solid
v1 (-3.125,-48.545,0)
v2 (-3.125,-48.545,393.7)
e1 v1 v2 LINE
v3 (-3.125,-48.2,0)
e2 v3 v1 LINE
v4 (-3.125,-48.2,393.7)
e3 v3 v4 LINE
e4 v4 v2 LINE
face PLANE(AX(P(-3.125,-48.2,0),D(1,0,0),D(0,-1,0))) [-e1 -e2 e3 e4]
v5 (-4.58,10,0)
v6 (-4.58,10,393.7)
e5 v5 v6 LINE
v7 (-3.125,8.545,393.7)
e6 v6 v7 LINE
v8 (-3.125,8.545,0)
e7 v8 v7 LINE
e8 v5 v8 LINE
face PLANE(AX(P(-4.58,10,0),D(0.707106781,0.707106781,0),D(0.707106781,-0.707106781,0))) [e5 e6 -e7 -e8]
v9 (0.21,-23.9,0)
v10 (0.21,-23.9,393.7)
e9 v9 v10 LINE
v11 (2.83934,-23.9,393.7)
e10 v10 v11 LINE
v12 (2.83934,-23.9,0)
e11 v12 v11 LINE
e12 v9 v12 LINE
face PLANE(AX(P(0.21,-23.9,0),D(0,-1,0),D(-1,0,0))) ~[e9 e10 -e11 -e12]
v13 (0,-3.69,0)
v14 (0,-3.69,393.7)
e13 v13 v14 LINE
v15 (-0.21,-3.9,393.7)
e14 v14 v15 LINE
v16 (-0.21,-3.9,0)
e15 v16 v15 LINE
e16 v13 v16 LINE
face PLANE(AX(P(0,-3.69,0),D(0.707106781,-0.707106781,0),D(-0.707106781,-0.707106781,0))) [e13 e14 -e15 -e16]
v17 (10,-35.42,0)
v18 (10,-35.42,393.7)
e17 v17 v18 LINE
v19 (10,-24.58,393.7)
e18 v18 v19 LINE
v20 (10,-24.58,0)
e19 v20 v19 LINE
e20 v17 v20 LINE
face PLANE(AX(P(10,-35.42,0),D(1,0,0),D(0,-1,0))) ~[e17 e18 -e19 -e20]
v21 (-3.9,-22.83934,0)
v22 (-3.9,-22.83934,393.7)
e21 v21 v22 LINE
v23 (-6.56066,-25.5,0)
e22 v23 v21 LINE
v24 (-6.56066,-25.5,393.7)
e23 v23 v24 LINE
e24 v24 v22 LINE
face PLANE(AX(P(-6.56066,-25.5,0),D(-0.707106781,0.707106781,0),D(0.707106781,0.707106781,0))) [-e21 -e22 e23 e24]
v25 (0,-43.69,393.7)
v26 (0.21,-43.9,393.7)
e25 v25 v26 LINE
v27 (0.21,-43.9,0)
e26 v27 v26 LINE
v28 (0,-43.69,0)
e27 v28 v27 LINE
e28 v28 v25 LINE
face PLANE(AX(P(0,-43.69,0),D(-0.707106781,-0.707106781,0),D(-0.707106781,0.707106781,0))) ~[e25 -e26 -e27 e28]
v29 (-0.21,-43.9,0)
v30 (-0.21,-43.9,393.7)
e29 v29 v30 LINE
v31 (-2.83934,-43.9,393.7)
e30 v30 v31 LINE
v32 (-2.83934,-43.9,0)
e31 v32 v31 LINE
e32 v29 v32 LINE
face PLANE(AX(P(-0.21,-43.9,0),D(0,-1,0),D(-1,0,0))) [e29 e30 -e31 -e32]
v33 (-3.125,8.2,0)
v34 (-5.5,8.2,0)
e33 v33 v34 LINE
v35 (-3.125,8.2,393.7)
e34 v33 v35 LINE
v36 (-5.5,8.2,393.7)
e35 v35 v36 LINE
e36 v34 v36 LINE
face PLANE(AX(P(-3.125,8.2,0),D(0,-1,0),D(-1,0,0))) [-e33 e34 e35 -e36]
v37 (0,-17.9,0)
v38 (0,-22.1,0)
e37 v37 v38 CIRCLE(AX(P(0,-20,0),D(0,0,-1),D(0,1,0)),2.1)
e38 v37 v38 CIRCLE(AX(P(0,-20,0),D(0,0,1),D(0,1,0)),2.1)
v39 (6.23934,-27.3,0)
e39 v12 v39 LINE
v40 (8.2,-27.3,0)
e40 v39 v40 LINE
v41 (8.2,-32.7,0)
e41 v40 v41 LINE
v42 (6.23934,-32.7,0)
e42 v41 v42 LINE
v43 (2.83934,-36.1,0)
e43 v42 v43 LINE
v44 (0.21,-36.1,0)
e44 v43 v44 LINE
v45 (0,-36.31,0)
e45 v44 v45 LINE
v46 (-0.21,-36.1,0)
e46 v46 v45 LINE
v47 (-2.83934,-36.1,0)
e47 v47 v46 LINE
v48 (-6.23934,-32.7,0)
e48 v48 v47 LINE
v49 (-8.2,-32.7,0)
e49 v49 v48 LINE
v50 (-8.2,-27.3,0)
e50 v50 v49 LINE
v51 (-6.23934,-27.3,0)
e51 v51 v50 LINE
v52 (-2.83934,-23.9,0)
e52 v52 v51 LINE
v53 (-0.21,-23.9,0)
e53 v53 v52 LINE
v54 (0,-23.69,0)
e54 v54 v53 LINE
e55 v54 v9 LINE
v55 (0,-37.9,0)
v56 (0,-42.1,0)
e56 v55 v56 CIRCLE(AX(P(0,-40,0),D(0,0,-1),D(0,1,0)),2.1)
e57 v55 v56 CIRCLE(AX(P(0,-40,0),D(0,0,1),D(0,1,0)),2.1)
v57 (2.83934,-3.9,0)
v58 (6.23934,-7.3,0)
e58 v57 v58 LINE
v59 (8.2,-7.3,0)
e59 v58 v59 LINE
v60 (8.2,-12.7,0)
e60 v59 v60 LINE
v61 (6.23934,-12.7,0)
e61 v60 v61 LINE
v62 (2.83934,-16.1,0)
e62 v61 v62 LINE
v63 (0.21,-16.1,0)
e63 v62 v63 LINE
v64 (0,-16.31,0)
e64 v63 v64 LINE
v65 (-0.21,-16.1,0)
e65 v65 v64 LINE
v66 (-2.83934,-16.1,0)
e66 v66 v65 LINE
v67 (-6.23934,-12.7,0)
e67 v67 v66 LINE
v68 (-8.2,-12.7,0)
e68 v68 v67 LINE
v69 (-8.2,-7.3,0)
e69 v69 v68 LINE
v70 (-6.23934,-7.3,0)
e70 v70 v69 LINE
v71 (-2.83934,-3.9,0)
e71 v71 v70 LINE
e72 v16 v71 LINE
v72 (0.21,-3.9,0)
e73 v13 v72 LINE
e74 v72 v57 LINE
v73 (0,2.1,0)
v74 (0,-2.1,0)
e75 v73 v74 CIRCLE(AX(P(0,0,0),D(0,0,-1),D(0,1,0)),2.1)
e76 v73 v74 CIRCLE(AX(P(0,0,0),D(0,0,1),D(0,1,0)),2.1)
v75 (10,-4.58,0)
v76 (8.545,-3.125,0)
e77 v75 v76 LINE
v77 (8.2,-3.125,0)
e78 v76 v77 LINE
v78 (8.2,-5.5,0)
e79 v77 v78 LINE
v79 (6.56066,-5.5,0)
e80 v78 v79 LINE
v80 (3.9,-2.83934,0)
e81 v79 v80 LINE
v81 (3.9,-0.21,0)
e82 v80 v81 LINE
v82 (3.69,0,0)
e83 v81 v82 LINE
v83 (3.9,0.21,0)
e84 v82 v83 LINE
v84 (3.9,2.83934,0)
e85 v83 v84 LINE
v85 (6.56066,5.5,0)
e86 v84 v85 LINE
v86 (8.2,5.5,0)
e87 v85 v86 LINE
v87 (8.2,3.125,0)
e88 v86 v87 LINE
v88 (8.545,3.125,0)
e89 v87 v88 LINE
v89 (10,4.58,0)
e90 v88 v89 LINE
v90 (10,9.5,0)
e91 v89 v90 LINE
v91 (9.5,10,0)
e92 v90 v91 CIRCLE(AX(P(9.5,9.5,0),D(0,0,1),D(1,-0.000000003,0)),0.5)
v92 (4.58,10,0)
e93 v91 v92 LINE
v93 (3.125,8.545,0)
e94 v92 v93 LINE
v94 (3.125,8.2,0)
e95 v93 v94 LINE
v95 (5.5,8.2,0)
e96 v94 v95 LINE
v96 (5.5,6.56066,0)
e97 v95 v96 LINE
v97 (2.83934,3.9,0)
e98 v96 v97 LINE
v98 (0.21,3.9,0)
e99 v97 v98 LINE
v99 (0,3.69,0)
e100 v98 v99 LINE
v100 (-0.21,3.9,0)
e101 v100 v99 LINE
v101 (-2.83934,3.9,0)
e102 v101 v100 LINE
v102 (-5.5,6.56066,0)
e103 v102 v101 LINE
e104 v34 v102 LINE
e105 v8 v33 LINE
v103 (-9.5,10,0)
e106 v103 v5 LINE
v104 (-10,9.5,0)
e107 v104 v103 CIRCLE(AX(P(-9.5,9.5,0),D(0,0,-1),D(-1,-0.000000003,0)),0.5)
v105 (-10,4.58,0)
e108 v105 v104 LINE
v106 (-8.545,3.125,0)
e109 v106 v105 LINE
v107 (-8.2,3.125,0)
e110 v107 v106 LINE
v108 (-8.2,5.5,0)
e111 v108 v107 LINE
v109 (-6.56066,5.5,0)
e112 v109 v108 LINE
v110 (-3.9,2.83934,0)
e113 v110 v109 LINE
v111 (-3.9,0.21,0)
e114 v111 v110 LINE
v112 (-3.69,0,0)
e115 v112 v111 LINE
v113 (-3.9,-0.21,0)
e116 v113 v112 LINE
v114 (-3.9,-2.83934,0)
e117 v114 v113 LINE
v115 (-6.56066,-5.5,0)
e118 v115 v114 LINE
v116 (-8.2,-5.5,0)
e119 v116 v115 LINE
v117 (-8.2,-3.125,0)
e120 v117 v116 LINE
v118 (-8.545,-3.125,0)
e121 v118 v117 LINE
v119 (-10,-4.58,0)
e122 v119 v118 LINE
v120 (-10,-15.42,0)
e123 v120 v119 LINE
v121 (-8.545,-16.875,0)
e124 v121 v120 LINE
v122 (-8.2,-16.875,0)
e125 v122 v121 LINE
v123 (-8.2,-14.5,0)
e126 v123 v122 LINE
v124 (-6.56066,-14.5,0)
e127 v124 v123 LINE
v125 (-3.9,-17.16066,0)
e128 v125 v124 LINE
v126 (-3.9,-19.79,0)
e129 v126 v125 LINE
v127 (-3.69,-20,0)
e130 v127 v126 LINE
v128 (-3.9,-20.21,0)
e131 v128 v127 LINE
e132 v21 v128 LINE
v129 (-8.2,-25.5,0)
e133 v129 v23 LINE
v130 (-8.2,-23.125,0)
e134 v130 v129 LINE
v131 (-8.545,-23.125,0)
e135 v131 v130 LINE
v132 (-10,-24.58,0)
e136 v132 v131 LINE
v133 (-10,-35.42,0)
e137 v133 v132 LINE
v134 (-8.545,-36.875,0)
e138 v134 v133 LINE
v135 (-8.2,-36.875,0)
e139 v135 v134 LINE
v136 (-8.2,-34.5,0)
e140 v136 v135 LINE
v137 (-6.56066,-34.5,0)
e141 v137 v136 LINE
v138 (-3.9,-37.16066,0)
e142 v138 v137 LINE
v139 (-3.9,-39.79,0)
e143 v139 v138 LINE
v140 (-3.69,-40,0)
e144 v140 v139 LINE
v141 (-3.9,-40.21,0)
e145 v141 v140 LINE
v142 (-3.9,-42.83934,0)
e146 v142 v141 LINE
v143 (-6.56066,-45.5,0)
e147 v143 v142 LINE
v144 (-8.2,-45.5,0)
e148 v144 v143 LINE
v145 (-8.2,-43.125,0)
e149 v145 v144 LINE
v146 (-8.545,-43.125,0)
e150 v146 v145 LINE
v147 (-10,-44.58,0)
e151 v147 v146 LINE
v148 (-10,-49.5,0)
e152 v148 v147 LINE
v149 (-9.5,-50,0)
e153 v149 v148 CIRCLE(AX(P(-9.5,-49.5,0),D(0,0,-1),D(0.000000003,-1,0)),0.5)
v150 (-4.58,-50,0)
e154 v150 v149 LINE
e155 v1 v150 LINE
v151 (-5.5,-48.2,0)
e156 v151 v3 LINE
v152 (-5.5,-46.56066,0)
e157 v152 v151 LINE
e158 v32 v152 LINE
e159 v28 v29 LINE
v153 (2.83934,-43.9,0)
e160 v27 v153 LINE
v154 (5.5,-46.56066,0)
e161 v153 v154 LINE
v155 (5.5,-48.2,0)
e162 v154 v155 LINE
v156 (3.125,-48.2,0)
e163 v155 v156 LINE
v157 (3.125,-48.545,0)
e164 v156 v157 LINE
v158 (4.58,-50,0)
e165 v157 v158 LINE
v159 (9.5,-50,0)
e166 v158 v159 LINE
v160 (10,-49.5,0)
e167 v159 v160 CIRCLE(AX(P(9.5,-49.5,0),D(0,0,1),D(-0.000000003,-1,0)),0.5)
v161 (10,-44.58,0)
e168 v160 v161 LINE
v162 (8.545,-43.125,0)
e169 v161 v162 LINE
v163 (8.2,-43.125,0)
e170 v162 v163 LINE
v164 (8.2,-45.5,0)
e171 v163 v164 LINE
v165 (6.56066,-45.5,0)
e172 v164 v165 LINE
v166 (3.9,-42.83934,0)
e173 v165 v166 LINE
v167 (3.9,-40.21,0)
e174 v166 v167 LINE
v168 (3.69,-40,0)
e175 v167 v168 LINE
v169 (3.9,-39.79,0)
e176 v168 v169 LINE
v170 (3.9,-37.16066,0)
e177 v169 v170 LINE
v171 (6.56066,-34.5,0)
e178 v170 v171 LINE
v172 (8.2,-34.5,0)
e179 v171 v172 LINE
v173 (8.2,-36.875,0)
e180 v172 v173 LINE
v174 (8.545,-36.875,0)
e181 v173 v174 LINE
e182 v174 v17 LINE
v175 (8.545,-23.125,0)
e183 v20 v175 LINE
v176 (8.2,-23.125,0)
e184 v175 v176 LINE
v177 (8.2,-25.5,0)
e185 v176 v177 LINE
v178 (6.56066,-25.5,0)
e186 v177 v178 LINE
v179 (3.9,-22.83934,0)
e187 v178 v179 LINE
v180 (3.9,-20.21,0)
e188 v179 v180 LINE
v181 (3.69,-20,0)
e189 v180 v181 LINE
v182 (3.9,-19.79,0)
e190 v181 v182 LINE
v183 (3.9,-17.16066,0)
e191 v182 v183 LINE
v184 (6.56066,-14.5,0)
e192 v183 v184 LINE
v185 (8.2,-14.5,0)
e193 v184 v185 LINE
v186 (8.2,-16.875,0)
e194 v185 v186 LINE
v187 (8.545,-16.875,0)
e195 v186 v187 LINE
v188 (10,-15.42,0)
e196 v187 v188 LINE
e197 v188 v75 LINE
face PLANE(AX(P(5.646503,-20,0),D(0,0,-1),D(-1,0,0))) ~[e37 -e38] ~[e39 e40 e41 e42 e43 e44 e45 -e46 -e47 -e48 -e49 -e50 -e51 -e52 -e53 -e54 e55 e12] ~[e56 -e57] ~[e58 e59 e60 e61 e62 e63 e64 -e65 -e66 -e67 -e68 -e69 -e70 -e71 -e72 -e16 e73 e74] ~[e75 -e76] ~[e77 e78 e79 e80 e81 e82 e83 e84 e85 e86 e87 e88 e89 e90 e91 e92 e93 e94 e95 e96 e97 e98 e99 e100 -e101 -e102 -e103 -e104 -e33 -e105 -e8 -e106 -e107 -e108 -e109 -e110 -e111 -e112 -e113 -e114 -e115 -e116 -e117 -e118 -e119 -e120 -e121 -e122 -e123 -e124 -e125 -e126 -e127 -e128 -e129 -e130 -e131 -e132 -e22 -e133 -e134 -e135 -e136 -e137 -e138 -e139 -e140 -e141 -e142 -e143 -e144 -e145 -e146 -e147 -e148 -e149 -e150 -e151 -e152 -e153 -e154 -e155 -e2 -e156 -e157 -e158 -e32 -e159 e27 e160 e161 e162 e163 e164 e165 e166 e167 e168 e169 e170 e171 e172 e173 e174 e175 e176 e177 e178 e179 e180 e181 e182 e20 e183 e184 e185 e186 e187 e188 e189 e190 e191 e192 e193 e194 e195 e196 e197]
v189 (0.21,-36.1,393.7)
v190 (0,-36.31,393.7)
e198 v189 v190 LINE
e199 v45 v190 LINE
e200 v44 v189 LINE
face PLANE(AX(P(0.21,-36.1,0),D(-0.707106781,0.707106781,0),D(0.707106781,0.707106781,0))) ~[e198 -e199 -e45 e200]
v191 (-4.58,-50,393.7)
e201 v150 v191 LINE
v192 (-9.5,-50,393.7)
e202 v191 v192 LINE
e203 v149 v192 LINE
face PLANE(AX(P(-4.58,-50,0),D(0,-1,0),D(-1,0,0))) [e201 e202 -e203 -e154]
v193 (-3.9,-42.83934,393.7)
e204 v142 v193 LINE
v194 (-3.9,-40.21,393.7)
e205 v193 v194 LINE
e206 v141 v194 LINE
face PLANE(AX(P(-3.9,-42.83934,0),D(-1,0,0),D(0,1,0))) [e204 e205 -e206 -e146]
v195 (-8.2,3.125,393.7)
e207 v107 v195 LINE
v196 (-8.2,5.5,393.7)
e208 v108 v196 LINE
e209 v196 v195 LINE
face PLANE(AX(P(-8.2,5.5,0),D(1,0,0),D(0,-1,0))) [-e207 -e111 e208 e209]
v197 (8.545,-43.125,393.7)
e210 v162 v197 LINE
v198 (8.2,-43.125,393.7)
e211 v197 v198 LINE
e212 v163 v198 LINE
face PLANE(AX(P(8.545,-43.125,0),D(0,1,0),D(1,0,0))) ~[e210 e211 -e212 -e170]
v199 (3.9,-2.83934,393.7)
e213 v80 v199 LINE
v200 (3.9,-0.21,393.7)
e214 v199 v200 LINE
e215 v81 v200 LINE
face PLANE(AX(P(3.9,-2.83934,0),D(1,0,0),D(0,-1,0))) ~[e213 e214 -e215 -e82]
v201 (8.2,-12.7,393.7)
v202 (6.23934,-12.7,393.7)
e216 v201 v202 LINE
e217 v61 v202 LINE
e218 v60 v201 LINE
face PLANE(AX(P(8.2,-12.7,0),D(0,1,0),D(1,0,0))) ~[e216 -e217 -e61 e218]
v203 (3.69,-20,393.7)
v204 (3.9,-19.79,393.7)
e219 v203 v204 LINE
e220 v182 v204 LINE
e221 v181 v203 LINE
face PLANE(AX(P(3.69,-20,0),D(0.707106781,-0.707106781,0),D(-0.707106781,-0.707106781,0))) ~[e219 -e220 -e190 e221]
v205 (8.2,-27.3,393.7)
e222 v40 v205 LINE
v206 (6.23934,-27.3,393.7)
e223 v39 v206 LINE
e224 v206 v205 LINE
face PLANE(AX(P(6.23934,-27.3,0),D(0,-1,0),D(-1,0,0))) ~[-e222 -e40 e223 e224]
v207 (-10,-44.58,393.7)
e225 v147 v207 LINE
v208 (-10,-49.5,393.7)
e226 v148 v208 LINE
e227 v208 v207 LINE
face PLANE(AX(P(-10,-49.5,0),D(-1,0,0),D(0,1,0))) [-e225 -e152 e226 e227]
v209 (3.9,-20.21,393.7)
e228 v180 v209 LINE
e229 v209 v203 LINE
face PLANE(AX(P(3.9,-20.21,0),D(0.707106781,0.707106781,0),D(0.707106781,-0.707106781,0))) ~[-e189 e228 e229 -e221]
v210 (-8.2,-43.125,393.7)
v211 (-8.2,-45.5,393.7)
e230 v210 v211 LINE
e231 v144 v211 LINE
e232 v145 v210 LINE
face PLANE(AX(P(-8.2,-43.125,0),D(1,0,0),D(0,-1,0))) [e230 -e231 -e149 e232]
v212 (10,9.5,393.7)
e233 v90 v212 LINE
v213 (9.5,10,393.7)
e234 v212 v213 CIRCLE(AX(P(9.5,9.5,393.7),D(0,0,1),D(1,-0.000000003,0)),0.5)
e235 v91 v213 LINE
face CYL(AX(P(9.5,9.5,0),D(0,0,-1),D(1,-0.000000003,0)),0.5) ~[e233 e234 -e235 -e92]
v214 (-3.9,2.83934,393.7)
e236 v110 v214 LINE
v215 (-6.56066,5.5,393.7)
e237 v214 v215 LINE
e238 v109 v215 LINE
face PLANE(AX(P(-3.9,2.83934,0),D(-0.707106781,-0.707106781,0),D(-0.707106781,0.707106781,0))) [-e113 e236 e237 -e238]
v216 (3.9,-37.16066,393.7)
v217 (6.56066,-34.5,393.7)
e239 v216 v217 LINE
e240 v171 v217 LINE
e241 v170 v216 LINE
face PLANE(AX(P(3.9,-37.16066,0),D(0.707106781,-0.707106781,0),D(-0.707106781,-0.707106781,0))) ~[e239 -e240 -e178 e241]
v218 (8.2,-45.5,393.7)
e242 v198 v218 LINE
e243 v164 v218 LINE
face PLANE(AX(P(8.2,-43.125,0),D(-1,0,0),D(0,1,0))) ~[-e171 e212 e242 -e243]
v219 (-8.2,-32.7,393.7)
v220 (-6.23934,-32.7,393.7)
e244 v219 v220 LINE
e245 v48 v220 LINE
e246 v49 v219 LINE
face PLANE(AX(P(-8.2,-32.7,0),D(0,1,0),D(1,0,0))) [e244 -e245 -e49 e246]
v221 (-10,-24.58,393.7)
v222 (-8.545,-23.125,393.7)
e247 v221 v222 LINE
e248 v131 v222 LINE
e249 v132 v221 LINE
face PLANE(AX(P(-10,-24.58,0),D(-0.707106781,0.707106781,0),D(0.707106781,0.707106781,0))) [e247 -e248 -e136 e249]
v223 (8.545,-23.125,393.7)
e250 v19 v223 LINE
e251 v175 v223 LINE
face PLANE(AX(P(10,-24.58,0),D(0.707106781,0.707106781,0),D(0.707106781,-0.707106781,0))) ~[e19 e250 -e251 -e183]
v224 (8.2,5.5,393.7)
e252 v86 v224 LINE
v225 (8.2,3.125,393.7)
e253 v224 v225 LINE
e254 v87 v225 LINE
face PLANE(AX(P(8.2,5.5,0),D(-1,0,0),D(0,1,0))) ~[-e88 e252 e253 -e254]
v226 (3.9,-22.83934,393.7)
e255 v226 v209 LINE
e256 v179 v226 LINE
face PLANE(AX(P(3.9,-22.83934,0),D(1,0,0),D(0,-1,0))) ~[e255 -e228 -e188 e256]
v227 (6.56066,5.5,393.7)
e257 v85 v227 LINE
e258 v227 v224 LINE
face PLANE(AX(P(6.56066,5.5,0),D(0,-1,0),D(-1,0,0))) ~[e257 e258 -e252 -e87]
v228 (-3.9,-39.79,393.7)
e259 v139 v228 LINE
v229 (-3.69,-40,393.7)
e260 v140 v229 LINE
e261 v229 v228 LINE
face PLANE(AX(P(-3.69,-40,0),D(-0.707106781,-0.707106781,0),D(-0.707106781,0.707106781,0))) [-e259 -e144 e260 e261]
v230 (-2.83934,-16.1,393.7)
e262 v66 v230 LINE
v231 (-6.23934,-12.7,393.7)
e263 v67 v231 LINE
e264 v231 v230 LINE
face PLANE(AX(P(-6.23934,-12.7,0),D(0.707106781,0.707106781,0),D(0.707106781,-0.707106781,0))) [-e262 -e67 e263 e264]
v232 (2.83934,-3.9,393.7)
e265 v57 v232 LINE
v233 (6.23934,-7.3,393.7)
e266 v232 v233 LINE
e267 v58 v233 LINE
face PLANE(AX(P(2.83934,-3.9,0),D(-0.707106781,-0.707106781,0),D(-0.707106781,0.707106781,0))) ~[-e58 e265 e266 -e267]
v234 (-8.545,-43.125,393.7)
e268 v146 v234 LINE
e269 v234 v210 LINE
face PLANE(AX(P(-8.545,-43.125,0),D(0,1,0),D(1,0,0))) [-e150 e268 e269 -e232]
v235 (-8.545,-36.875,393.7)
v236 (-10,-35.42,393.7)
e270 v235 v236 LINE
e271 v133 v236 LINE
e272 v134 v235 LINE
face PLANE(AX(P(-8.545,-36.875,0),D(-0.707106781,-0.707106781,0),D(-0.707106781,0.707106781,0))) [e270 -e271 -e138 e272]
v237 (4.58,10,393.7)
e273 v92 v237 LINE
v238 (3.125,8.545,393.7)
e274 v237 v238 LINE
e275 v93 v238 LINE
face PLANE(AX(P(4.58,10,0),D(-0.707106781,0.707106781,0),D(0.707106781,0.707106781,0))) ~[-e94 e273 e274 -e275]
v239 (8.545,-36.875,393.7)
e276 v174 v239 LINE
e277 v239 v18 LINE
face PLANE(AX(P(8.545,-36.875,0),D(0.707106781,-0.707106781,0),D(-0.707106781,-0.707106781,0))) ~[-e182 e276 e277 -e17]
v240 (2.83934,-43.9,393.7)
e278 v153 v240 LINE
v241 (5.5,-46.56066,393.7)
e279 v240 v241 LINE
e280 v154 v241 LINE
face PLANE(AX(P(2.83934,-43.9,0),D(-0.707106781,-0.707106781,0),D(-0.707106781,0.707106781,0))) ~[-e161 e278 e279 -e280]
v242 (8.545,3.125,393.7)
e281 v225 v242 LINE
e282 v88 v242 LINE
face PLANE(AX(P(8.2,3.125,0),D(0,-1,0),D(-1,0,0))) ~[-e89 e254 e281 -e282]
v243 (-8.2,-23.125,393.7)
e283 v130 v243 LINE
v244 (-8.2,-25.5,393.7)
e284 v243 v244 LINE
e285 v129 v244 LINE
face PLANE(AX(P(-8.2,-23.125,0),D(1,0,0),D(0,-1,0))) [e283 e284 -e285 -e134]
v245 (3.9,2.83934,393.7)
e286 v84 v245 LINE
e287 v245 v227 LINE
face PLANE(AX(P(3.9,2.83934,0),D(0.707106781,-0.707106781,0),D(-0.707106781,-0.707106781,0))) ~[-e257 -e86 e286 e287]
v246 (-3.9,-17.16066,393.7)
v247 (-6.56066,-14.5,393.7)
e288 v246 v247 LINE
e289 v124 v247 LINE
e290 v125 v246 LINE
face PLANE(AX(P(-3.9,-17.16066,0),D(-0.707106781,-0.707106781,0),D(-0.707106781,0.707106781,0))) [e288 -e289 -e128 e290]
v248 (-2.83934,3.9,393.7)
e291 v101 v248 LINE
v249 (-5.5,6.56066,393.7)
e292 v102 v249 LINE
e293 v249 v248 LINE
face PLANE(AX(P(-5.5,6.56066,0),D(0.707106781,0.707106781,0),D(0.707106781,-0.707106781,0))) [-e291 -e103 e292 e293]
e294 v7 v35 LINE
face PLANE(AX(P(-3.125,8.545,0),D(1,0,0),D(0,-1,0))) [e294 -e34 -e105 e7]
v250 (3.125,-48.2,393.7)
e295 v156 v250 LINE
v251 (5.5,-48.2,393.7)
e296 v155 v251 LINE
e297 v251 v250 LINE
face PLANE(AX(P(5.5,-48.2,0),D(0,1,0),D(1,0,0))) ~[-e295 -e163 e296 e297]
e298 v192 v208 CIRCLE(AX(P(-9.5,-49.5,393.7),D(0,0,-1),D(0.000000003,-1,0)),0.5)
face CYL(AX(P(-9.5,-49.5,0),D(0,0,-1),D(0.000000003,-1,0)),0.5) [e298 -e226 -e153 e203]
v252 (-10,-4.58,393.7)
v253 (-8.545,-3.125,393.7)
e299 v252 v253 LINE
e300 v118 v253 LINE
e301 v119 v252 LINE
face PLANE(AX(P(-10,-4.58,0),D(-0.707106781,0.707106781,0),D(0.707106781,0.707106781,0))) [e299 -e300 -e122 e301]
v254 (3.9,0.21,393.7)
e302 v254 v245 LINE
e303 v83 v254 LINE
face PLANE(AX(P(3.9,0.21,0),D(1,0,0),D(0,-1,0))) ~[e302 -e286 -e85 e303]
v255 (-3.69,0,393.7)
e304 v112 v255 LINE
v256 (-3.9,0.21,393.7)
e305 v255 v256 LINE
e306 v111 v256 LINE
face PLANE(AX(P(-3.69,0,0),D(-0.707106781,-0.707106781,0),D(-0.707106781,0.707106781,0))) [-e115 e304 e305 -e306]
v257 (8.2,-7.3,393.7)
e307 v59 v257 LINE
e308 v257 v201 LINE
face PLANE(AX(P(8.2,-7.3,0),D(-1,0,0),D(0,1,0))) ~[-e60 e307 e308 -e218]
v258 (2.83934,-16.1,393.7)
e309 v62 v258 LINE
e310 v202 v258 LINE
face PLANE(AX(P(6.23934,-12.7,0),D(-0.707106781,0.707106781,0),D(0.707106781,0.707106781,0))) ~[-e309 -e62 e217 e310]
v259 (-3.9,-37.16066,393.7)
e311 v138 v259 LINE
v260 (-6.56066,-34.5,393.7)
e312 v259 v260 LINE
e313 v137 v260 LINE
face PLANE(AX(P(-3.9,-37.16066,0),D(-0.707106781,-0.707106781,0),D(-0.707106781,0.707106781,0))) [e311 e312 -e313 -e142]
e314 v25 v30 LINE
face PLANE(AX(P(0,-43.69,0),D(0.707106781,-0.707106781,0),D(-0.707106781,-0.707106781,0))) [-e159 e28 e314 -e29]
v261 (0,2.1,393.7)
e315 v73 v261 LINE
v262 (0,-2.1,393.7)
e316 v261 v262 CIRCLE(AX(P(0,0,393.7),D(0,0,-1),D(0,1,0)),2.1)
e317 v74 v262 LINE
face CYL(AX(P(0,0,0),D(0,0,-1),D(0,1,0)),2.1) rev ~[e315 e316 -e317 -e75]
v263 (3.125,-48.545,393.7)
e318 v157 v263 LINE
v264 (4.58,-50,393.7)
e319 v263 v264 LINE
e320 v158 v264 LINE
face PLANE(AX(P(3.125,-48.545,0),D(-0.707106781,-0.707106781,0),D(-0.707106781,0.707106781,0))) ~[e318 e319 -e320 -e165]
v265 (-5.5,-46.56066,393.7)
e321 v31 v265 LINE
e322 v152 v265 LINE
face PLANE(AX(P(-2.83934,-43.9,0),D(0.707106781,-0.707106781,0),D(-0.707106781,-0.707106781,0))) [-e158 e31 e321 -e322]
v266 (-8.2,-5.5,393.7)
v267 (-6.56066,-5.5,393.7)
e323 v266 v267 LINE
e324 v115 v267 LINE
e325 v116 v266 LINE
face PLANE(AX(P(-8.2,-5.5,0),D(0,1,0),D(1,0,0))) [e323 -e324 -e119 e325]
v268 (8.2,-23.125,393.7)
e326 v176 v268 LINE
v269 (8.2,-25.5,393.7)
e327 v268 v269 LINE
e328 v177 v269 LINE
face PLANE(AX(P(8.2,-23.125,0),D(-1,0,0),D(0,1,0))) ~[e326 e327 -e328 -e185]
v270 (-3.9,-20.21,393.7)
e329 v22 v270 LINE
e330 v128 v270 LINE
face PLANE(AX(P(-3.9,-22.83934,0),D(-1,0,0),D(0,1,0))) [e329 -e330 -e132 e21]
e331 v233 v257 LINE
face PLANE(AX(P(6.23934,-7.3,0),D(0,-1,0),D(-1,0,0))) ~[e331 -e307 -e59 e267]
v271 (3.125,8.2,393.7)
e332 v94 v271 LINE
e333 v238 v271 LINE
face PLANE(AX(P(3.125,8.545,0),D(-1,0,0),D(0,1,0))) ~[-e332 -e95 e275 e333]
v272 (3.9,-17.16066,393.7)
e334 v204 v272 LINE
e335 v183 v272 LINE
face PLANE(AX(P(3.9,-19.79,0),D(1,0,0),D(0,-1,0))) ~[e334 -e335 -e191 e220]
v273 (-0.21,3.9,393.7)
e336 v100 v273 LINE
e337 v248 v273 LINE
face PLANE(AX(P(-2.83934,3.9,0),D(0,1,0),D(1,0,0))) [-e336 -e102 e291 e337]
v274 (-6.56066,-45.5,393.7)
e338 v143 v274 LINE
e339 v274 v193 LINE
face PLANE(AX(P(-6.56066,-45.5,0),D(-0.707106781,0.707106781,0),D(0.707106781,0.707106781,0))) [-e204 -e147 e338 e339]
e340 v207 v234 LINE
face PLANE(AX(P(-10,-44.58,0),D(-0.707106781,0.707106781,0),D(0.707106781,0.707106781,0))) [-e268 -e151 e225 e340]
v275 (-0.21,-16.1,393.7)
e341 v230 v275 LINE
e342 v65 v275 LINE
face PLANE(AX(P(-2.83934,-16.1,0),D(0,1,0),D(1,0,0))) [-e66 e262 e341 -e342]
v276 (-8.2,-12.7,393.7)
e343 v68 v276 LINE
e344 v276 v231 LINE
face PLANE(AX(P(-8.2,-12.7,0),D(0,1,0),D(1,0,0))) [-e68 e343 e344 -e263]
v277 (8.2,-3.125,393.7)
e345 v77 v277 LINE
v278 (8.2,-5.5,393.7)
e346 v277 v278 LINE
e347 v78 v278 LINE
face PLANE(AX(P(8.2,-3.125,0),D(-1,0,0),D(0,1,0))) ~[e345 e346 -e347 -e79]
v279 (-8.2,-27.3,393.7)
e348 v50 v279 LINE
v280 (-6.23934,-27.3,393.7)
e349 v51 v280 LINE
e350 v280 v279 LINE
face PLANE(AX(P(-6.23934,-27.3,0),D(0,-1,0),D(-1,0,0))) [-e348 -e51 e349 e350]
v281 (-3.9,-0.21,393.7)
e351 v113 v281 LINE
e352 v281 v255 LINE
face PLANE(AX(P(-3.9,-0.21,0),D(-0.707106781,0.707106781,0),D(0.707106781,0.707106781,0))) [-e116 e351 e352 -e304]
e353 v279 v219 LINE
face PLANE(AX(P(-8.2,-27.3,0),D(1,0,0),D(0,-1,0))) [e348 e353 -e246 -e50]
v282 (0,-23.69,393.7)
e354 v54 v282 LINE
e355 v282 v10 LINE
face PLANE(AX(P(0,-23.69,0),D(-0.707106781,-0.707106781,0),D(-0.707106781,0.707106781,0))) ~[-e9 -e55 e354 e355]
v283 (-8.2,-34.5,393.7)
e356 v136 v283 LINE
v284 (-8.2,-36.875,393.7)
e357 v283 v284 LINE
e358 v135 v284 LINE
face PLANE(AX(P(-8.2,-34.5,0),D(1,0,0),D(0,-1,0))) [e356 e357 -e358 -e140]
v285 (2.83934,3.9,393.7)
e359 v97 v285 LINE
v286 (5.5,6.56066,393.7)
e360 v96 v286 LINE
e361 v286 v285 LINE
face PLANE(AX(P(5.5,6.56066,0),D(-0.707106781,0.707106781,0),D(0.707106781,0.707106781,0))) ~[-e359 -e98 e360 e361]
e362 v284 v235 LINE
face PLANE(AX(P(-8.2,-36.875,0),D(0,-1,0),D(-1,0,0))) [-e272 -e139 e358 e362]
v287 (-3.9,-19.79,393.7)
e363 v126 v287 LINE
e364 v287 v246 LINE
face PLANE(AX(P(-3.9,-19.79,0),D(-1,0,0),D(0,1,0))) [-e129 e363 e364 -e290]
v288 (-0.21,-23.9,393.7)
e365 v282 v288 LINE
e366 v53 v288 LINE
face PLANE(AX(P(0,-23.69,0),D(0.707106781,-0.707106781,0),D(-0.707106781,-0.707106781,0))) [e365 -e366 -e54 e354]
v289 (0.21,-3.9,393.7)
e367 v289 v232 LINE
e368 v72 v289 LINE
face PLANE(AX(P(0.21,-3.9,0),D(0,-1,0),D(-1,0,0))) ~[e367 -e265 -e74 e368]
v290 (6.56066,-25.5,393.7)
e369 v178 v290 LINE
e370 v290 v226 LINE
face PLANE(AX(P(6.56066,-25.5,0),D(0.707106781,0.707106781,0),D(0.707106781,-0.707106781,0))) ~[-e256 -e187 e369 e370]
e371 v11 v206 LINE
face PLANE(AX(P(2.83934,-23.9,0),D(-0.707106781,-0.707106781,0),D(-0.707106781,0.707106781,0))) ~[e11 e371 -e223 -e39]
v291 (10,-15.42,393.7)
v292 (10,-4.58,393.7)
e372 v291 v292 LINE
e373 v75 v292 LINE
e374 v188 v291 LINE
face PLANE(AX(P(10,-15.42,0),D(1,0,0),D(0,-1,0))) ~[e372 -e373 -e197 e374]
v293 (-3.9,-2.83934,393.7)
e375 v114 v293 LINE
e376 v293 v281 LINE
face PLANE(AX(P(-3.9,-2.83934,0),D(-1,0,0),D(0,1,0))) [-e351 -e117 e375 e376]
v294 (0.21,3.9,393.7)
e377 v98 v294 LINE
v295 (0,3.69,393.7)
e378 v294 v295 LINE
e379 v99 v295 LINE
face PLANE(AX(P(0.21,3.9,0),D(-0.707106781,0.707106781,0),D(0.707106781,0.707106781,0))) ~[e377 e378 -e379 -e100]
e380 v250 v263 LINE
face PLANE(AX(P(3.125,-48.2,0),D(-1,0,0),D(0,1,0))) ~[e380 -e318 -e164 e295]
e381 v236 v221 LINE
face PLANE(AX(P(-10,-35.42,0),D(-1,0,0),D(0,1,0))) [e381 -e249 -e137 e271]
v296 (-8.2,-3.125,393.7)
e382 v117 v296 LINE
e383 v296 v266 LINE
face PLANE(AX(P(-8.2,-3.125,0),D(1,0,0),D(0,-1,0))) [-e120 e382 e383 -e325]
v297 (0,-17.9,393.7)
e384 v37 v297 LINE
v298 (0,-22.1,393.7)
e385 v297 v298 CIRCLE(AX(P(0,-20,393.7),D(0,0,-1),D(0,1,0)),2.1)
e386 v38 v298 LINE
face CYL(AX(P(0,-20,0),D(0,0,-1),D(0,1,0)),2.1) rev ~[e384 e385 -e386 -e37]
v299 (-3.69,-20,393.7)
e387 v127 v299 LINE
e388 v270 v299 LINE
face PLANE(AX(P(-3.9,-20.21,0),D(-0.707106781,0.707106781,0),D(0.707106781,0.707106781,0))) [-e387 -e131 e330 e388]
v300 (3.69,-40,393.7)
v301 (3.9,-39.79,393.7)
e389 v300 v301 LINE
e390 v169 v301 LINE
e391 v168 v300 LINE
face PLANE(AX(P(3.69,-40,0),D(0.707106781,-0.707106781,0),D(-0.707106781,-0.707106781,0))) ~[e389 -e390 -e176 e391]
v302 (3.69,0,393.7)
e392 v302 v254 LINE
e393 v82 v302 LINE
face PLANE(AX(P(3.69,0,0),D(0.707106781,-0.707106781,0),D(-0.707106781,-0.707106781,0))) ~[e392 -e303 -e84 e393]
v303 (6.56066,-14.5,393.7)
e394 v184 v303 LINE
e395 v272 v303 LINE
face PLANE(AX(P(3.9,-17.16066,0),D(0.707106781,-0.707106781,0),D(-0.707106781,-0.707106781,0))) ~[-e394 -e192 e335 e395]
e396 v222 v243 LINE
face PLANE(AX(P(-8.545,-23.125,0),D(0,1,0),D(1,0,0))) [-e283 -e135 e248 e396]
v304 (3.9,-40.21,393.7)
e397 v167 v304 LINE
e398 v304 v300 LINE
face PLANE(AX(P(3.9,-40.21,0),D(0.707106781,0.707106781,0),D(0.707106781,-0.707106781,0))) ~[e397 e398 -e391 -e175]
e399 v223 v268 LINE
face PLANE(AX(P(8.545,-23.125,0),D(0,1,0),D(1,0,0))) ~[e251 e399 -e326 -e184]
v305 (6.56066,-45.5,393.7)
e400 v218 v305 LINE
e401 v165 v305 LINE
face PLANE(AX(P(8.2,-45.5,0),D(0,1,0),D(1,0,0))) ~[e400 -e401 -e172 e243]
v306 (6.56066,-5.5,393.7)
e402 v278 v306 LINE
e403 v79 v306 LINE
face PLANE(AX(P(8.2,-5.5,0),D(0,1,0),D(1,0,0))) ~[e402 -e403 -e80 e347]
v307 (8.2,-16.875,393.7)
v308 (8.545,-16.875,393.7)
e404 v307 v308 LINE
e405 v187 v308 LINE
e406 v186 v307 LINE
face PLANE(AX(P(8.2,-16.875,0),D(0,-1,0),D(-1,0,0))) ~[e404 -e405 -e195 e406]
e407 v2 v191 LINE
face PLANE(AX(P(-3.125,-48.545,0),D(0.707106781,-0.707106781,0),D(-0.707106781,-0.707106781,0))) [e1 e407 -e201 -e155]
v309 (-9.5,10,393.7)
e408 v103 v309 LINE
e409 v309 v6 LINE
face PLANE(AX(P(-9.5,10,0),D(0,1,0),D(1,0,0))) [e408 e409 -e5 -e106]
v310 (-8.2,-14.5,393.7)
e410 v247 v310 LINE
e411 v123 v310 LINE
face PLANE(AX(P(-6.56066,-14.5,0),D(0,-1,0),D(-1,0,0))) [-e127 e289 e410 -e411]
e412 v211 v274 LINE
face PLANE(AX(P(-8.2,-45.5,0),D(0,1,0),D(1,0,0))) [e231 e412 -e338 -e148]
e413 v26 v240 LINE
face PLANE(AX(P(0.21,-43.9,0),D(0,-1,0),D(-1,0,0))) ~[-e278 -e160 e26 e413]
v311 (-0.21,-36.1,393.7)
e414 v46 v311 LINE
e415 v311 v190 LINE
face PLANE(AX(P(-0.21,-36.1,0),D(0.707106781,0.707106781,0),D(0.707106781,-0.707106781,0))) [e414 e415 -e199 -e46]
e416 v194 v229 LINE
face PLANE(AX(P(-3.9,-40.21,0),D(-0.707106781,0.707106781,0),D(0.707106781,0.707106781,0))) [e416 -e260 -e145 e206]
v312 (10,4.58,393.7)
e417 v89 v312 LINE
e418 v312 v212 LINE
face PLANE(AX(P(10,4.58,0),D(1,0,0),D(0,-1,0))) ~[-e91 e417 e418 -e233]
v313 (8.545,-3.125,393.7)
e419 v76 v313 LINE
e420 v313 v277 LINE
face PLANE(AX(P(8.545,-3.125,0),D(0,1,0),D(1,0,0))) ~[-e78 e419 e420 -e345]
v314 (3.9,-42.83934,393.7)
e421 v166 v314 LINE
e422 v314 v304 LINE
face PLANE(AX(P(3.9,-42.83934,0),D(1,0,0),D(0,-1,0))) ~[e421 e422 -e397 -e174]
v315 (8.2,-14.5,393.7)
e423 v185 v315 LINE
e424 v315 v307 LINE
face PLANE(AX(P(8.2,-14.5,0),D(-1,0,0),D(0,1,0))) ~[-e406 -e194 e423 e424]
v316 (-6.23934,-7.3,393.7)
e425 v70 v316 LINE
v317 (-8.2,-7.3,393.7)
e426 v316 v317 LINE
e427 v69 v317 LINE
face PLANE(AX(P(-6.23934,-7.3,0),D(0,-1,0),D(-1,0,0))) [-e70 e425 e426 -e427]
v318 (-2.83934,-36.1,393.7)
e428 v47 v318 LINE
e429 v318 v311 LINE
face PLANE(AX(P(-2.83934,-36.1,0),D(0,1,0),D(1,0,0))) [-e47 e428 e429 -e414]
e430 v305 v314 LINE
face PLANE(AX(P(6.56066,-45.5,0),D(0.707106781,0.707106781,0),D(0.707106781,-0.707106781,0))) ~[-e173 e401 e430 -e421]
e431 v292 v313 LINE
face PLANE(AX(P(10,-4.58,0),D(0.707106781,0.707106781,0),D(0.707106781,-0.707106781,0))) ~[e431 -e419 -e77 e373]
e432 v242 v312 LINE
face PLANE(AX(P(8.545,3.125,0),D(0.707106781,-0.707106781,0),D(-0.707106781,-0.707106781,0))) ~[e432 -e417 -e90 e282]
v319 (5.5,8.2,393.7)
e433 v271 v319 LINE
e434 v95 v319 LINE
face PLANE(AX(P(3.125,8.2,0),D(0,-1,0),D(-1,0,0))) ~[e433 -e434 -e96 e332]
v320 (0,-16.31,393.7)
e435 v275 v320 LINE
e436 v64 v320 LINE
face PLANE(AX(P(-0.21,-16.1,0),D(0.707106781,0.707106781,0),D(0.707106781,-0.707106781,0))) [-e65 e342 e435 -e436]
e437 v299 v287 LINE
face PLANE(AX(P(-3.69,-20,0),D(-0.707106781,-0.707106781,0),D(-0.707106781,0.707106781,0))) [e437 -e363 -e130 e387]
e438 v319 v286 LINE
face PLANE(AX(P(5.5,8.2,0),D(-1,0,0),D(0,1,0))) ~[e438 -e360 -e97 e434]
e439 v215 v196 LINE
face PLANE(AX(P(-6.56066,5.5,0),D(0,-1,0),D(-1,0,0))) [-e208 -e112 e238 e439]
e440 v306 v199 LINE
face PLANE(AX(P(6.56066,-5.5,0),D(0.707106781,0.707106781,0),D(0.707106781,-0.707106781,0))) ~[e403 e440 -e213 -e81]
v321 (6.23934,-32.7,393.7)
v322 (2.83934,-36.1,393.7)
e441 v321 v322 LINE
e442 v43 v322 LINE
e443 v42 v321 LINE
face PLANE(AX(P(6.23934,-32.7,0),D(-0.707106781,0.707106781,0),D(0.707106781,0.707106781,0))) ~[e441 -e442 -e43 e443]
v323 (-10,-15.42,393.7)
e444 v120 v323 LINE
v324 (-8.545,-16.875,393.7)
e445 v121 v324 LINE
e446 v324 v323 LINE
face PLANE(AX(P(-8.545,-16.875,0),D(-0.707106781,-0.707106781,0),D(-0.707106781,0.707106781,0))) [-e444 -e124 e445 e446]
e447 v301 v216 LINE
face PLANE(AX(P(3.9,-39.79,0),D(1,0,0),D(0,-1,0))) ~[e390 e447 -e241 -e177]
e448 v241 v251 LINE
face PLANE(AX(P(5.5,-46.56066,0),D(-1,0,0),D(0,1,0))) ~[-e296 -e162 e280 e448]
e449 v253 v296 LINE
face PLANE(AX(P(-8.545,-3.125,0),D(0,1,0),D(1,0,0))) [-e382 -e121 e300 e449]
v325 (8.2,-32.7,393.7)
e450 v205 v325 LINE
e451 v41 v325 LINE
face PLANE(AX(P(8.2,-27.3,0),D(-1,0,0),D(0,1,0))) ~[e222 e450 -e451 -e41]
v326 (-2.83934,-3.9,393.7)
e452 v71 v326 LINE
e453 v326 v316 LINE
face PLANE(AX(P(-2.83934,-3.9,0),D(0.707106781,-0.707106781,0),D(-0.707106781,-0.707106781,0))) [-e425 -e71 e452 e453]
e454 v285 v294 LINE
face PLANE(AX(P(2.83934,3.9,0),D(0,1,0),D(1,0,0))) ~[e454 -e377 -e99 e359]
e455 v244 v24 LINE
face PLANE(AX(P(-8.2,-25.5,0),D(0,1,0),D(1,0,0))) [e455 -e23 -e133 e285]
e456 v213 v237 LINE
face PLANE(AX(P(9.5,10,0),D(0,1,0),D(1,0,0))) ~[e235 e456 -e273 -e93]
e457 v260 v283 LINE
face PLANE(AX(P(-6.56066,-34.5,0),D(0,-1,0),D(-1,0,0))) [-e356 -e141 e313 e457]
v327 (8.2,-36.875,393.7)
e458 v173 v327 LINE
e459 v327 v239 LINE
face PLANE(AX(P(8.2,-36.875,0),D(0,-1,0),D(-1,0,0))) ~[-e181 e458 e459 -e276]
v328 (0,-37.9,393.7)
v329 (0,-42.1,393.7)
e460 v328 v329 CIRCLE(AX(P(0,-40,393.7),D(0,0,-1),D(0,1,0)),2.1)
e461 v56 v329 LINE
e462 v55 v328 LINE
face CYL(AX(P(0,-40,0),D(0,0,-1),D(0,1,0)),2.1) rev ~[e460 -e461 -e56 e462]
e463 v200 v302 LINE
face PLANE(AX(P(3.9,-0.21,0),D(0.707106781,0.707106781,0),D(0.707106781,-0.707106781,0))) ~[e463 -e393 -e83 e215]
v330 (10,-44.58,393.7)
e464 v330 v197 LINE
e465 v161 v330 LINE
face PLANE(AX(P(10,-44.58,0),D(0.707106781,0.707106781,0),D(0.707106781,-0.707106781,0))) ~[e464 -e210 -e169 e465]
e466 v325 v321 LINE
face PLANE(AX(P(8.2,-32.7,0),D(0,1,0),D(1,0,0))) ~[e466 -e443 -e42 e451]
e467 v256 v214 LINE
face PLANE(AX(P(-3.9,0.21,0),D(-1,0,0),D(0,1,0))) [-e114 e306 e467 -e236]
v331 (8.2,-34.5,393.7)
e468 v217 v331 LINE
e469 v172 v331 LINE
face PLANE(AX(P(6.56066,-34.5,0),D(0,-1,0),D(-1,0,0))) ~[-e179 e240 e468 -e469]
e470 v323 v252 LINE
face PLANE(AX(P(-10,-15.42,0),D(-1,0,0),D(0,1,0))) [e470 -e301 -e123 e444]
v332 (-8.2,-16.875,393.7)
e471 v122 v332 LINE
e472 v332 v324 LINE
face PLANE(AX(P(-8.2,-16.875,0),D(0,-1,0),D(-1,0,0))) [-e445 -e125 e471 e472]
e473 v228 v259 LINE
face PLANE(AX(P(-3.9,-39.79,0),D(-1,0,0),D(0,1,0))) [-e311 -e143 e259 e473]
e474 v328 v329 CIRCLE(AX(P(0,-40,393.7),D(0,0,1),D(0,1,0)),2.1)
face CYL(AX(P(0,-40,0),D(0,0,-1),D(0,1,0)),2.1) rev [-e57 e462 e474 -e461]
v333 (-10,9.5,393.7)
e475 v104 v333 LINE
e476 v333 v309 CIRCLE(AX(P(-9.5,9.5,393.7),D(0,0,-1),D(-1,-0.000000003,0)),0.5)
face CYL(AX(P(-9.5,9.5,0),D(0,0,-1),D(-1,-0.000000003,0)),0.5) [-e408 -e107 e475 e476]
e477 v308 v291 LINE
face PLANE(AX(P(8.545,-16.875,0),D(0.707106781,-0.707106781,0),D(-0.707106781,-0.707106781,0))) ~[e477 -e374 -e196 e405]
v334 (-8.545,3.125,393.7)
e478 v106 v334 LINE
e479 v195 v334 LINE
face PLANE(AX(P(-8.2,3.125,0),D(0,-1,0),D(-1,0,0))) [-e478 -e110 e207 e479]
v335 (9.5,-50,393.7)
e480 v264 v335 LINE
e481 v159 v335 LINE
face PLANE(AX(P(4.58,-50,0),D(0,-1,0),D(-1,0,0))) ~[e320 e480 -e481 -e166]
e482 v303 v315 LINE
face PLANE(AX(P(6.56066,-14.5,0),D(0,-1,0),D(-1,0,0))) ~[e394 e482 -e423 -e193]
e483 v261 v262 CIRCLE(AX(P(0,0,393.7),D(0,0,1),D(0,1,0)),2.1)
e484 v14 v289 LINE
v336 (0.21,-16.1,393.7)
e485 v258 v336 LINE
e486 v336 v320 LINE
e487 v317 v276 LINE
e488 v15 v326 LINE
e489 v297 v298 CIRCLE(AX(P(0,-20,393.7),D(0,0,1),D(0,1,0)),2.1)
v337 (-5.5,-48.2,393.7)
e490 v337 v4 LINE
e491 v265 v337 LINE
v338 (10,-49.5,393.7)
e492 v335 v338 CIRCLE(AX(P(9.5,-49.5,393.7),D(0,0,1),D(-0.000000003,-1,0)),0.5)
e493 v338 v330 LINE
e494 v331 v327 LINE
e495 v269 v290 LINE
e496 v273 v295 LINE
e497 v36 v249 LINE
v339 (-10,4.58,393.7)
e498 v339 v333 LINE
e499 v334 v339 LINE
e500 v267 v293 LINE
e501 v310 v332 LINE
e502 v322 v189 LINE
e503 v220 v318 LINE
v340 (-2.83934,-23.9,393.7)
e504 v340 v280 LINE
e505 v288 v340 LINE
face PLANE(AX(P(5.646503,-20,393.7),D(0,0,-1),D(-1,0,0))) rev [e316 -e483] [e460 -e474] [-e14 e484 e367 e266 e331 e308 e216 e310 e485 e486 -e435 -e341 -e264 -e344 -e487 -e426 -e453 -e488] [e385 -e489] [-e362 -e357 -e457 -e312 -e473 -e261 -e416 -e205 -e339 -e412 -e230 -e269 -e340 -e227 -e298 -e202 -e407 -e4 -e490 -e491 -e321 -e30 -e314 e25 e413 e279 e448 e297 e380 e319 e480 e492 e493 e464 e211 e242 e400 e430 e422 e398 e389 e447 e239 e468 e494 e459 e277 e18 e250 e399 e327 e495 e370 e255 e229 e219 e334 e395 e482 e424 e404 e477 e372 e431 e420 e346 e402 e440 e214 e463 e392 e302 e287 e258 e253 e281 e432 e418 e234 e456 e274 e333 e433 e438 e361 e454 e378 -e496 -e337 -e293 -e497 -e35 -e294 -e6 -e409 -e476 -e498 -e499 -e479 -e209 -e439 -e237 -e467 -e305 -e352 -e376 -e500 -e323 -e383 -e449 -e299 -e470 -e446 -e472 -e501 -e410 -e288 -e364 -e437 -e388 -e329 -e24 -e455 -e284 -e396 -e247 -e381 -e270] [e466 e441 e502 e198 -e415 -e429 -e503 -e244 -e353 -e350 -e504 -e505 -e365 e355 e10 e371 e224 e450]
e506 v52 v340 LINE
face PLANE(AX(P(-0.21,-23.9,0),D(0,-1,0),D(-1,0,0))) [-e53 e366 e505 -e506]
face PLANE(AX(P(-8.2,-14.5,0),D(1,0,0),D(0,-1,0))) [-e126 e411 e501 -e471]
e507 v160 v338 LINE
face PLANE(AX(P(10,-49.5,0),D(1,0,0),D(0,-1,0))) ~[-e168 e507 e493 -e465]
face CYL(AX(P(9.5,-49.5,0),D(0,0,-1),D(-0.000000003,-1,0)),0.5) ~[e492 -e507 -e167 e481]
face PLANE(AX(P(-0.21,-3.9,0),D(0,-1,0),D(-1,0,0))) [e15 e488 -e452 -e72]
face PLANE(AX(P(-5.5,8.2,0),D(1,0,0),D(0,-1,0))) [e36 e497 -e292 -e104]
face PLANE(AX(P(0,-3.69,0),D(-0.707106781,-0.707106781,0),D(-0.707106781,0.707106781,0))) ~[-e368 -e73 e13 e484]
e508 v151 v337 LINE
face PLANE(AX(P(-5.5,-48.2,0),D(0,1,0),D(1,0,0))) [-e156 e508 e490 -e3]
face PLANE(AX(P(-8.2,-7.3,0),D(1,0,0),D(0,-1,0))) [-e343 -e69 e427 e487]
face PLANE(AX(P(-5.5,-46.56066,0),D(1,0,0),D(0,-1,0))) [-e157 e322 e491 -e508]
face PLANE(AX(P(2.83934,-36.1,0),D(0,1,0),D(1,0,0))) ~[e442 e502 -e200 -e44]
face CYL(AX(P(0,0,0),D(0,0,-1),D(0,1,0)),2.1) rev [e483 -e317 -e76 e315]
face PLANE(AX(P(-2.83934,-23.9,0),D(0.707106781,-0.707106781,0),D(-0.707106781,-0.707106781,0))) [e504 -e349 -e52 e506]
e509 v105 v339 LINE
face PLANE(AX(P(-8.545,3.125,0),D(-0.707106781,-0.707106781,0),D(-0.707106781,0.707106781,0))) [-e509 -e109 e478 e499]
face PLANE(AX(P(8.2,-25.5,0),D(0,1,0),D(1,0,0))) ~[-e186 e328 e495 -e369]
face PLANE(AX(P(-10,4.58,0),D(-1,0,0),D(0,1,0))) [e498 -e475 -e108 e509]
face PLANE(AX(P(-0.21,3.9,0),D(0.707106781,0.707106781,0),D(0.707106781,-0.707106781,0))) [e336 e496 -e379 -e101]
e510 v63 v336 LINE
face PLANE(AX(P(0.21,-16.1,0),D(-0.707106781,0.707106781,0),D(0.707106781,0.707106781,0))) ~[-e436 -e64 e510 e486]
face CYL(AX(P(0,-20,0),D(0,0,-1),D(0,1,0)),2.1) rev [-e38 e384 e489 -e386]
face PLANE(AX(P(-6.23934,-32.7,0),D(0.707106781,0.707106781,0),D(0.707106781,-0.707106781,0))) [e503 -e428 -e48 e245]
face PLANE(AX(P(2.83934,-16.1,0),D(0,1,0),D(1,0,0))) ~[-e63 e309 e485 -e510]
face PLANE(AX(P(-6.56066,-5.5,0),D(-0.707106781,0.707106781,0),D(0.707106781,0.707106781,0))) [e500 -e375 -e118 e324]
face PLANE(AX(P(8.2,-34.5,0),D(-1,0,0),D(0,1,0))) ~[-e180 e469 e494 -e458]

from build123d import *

# Parameters (mm, degrees)
BOSS_EXTRU_1_DEPTH = 393.7


with BuildPart() as part:
    # Esquisse1 → Boss.-Extru.1 (new body)
    with BuildSketch(Plane.XY):
        with BuildLine():
            Line((-9.5, 10), (-4.58, 10))
            Line((-4.58, 10), (-3.125, 8.545))
            Line((-3.125, 8.545), (-3.125, 8.2))
            Line((-3.125, 8.2), (-5.5, 8.2))
            Line((-5.5, 8.2), (-5.5, 6.560660172))
            Line((-5.5, 6.560660172), (-2.839339828, 3.9))
            Line((-2.839339828, 3.9), (-0.21, 3.9))
            Line((-0.21, 3.9), (0, 3.69))
            Line((0, 3.69), (0, 2.1))
            ThreePointArc((0, 2.1), (-2.1, 0), (0, -2.1))
            Line((0, -2.1), (0, -3.69))
            Line((0, -3.69), (-0.21, -3.9))
            Line((-0.21, -3.9), (-2.839339828, -3.9))
            Line((-2.839339828, -3.9), (-6.239339828, -7.3))
            Line((-6.239339828, -7.3), (-8.2, -7.3))
            Line((-8.2, -7.3), (-8.2, -12.7))
            Line((-8.2, -12.7), (-6.239339828, -12.7))
            Line((-6.239339828, -12.7), (-2.839339828, -16.1))
            Line((-2.839339828, -16.1), (-0.21, -16.1))
            Line((-0.21, -16.1), (0, -16.31))
            Line((0, -16.31), (0, -17.9))
            ThreePointArc((0, -17.9), (-2.1, -20), (0, -22.1))
            Line((0, -22.1), (0, -23.69))
            Line((0, -23.69), (-0.21, -23.9))
            Line((-0.21, -23.9), (-2.839339828, -23.9))
            Line((-2.839339828, -23.9), (-6.239339828, -27.3))
            Line((-6.239339828, -27.3), (-8.2, -27.3))
            Line((-8.2, -27.3), (-8.2, -32.7))
            Line((-8.2, -32.7), (-6.239339828, -32.7))
            Line((-6.239339828, -32.7), (-2.839339828, -36.1))
            Line((-2.839339828, -36.1), (-0.21, -36.1))
            Line((-0.21, -36.1), (0, -36.31))
            Line((0, -36.31), (0, -37.9))
            ThreePointArc((0, -37.9), (-2.1, -40), (0, -42.1))
            Line((0, -42.1), (0, -43.69))
            Line((0, -43.69), (-0.21, -43.9))
            Line((-0.21, -43.9), (-2.839339828, -43.9))
            Line((-2.839339828, -43.9), (-5.5, -46.560660172))
            Line((-5.5, -46.560660172), (-5.5, -48.2))
            Line((-5.5, -48.2), (-3.125, -48.2))
            Line((-3.125, -48.2), (-3.125, -48.545))
            Line((-3.125, -48.545), (-4.58, -50))
            Line((-4.58, -50), (-9.5, -50))
            ThreePointArc((-9.5, -50), (-9.853553391, -49.853553391), (-10, -49.5))
            Line((-10, -49.5), (-10, -44.58))
            Line((-10, -44.58), (-8.545, -43.125))
            Line((-8.545, -43.125), (-8.2, -43.125))
            Line((-8.2, -43.125), (-8.2, -45.5))
            Line((-8.2, -45.5), (-6.560660172, -45.5))
            Line((-6.560660172, -45.5), (-3.9, -42.839339828))
            Line((-3.9, -42.839339828), (-3.9, -40.21))
            Line((-3.9, -40.21), (-3.69, -40))
            Line((-3.69, -40), (-3.9, -39.79))
            Line((-3.9, -39.79), (-3.9, -37.160660172))
            Line((-3.9, -37.160660172), (-6.560660172, -34.5))
            Line((-6.560660172, -34.5), (-8.2, -34.5))
            Line((-8.2, -34.5), (-8.2, -36.875))
            Line((-8.2, -36.875), (-8.545, -36.875))
            Line((-8.545, -36.875), (-10, -35.42))
            Line((-10, -35.42), (-10, -24.58))
            Line((-10, -24.58), (-8.545, -23.125))
            Line((-8.545, -23.125), (-8.2, -23.125))
            Line((-8.2, -23.125), (-8.2, -25.5))
            Line((-8.2, -25.5), (-6.560660172, -25.5))
            Line((-6.560660172, -25.5), (-3.9, -22.839339828))
            Line((-3.9, -22.839339828), (-3.9, -20.21))
            Line((-3.9, -20.21), (-3.69, -20))
            Line((-3.69, -20), (-3.9, -19.79))
            Line((-3.9, -19.79), (-3.9, -17.160660172))
            Line((-3.9, -17.160660172), (-6.560660172, -14.5))
            Line((-6.560660172, -14.5), (-8.2, -14.5))
            Line((-8.2, -14.5), (-8.2, -16.875))
            Line((-8.2, -16.875), (-8.545, -16.875))
            Line((-8.545, -16.875), (-10, -15.42))
            Line((-10, -15.42), (-10, -4.58))
            Line((-10, -4.58), (-8.545, -3.125))
            Line((-8.545, -3.125), (-8.2, -3.125))
            Line((-8.2, -3.125), (-8.2, -5.5))
            Line((-8.2, -5.5), (-6.560660172, -5.5))
            Line((-6.560660172, -5.5), (-3.9, -2.839339828))
            Line((-3.9, -2.839339828), (-3.9, -0.21))
            Line((-3.9, -0.21), (-3.69, 0))
            Line((-3.69, 0), (-3.9, 0.21))
            Line((-3.9, 0.21), (-3.9, 2.839339828))
            Line((-3.9, 2.839339828), (-6.560660172, 5.5))
            Line((-6.560660172, 5.5), (-8.2, 5.5))
            Line((-8.2, 5.5), (-8.2, 3.125))
            Line((-8.2, 3.125), (-8.545, 3.125))
            Line((-8.545, 3.125), (-10, 4.58))
            Line((-10, 4.58), (-10, 9.5))
            ThreePointArc((-10, 9.5), (-9.853553391, 9.853553391), (-9.5, 10))
        make_face()
    boss_extru_1 = extrude(amount=BOSS_EXTRU_1_DEPTH)

    # Symétrie1: Boss.-Extru.1 across plane
    add(boss_extru_1.mirror(Plane(origin=(0, 3.69, 393.7), x_dir=(0, 0, 1), z_dir=(-1, 0, 0))))


solid = part.part
